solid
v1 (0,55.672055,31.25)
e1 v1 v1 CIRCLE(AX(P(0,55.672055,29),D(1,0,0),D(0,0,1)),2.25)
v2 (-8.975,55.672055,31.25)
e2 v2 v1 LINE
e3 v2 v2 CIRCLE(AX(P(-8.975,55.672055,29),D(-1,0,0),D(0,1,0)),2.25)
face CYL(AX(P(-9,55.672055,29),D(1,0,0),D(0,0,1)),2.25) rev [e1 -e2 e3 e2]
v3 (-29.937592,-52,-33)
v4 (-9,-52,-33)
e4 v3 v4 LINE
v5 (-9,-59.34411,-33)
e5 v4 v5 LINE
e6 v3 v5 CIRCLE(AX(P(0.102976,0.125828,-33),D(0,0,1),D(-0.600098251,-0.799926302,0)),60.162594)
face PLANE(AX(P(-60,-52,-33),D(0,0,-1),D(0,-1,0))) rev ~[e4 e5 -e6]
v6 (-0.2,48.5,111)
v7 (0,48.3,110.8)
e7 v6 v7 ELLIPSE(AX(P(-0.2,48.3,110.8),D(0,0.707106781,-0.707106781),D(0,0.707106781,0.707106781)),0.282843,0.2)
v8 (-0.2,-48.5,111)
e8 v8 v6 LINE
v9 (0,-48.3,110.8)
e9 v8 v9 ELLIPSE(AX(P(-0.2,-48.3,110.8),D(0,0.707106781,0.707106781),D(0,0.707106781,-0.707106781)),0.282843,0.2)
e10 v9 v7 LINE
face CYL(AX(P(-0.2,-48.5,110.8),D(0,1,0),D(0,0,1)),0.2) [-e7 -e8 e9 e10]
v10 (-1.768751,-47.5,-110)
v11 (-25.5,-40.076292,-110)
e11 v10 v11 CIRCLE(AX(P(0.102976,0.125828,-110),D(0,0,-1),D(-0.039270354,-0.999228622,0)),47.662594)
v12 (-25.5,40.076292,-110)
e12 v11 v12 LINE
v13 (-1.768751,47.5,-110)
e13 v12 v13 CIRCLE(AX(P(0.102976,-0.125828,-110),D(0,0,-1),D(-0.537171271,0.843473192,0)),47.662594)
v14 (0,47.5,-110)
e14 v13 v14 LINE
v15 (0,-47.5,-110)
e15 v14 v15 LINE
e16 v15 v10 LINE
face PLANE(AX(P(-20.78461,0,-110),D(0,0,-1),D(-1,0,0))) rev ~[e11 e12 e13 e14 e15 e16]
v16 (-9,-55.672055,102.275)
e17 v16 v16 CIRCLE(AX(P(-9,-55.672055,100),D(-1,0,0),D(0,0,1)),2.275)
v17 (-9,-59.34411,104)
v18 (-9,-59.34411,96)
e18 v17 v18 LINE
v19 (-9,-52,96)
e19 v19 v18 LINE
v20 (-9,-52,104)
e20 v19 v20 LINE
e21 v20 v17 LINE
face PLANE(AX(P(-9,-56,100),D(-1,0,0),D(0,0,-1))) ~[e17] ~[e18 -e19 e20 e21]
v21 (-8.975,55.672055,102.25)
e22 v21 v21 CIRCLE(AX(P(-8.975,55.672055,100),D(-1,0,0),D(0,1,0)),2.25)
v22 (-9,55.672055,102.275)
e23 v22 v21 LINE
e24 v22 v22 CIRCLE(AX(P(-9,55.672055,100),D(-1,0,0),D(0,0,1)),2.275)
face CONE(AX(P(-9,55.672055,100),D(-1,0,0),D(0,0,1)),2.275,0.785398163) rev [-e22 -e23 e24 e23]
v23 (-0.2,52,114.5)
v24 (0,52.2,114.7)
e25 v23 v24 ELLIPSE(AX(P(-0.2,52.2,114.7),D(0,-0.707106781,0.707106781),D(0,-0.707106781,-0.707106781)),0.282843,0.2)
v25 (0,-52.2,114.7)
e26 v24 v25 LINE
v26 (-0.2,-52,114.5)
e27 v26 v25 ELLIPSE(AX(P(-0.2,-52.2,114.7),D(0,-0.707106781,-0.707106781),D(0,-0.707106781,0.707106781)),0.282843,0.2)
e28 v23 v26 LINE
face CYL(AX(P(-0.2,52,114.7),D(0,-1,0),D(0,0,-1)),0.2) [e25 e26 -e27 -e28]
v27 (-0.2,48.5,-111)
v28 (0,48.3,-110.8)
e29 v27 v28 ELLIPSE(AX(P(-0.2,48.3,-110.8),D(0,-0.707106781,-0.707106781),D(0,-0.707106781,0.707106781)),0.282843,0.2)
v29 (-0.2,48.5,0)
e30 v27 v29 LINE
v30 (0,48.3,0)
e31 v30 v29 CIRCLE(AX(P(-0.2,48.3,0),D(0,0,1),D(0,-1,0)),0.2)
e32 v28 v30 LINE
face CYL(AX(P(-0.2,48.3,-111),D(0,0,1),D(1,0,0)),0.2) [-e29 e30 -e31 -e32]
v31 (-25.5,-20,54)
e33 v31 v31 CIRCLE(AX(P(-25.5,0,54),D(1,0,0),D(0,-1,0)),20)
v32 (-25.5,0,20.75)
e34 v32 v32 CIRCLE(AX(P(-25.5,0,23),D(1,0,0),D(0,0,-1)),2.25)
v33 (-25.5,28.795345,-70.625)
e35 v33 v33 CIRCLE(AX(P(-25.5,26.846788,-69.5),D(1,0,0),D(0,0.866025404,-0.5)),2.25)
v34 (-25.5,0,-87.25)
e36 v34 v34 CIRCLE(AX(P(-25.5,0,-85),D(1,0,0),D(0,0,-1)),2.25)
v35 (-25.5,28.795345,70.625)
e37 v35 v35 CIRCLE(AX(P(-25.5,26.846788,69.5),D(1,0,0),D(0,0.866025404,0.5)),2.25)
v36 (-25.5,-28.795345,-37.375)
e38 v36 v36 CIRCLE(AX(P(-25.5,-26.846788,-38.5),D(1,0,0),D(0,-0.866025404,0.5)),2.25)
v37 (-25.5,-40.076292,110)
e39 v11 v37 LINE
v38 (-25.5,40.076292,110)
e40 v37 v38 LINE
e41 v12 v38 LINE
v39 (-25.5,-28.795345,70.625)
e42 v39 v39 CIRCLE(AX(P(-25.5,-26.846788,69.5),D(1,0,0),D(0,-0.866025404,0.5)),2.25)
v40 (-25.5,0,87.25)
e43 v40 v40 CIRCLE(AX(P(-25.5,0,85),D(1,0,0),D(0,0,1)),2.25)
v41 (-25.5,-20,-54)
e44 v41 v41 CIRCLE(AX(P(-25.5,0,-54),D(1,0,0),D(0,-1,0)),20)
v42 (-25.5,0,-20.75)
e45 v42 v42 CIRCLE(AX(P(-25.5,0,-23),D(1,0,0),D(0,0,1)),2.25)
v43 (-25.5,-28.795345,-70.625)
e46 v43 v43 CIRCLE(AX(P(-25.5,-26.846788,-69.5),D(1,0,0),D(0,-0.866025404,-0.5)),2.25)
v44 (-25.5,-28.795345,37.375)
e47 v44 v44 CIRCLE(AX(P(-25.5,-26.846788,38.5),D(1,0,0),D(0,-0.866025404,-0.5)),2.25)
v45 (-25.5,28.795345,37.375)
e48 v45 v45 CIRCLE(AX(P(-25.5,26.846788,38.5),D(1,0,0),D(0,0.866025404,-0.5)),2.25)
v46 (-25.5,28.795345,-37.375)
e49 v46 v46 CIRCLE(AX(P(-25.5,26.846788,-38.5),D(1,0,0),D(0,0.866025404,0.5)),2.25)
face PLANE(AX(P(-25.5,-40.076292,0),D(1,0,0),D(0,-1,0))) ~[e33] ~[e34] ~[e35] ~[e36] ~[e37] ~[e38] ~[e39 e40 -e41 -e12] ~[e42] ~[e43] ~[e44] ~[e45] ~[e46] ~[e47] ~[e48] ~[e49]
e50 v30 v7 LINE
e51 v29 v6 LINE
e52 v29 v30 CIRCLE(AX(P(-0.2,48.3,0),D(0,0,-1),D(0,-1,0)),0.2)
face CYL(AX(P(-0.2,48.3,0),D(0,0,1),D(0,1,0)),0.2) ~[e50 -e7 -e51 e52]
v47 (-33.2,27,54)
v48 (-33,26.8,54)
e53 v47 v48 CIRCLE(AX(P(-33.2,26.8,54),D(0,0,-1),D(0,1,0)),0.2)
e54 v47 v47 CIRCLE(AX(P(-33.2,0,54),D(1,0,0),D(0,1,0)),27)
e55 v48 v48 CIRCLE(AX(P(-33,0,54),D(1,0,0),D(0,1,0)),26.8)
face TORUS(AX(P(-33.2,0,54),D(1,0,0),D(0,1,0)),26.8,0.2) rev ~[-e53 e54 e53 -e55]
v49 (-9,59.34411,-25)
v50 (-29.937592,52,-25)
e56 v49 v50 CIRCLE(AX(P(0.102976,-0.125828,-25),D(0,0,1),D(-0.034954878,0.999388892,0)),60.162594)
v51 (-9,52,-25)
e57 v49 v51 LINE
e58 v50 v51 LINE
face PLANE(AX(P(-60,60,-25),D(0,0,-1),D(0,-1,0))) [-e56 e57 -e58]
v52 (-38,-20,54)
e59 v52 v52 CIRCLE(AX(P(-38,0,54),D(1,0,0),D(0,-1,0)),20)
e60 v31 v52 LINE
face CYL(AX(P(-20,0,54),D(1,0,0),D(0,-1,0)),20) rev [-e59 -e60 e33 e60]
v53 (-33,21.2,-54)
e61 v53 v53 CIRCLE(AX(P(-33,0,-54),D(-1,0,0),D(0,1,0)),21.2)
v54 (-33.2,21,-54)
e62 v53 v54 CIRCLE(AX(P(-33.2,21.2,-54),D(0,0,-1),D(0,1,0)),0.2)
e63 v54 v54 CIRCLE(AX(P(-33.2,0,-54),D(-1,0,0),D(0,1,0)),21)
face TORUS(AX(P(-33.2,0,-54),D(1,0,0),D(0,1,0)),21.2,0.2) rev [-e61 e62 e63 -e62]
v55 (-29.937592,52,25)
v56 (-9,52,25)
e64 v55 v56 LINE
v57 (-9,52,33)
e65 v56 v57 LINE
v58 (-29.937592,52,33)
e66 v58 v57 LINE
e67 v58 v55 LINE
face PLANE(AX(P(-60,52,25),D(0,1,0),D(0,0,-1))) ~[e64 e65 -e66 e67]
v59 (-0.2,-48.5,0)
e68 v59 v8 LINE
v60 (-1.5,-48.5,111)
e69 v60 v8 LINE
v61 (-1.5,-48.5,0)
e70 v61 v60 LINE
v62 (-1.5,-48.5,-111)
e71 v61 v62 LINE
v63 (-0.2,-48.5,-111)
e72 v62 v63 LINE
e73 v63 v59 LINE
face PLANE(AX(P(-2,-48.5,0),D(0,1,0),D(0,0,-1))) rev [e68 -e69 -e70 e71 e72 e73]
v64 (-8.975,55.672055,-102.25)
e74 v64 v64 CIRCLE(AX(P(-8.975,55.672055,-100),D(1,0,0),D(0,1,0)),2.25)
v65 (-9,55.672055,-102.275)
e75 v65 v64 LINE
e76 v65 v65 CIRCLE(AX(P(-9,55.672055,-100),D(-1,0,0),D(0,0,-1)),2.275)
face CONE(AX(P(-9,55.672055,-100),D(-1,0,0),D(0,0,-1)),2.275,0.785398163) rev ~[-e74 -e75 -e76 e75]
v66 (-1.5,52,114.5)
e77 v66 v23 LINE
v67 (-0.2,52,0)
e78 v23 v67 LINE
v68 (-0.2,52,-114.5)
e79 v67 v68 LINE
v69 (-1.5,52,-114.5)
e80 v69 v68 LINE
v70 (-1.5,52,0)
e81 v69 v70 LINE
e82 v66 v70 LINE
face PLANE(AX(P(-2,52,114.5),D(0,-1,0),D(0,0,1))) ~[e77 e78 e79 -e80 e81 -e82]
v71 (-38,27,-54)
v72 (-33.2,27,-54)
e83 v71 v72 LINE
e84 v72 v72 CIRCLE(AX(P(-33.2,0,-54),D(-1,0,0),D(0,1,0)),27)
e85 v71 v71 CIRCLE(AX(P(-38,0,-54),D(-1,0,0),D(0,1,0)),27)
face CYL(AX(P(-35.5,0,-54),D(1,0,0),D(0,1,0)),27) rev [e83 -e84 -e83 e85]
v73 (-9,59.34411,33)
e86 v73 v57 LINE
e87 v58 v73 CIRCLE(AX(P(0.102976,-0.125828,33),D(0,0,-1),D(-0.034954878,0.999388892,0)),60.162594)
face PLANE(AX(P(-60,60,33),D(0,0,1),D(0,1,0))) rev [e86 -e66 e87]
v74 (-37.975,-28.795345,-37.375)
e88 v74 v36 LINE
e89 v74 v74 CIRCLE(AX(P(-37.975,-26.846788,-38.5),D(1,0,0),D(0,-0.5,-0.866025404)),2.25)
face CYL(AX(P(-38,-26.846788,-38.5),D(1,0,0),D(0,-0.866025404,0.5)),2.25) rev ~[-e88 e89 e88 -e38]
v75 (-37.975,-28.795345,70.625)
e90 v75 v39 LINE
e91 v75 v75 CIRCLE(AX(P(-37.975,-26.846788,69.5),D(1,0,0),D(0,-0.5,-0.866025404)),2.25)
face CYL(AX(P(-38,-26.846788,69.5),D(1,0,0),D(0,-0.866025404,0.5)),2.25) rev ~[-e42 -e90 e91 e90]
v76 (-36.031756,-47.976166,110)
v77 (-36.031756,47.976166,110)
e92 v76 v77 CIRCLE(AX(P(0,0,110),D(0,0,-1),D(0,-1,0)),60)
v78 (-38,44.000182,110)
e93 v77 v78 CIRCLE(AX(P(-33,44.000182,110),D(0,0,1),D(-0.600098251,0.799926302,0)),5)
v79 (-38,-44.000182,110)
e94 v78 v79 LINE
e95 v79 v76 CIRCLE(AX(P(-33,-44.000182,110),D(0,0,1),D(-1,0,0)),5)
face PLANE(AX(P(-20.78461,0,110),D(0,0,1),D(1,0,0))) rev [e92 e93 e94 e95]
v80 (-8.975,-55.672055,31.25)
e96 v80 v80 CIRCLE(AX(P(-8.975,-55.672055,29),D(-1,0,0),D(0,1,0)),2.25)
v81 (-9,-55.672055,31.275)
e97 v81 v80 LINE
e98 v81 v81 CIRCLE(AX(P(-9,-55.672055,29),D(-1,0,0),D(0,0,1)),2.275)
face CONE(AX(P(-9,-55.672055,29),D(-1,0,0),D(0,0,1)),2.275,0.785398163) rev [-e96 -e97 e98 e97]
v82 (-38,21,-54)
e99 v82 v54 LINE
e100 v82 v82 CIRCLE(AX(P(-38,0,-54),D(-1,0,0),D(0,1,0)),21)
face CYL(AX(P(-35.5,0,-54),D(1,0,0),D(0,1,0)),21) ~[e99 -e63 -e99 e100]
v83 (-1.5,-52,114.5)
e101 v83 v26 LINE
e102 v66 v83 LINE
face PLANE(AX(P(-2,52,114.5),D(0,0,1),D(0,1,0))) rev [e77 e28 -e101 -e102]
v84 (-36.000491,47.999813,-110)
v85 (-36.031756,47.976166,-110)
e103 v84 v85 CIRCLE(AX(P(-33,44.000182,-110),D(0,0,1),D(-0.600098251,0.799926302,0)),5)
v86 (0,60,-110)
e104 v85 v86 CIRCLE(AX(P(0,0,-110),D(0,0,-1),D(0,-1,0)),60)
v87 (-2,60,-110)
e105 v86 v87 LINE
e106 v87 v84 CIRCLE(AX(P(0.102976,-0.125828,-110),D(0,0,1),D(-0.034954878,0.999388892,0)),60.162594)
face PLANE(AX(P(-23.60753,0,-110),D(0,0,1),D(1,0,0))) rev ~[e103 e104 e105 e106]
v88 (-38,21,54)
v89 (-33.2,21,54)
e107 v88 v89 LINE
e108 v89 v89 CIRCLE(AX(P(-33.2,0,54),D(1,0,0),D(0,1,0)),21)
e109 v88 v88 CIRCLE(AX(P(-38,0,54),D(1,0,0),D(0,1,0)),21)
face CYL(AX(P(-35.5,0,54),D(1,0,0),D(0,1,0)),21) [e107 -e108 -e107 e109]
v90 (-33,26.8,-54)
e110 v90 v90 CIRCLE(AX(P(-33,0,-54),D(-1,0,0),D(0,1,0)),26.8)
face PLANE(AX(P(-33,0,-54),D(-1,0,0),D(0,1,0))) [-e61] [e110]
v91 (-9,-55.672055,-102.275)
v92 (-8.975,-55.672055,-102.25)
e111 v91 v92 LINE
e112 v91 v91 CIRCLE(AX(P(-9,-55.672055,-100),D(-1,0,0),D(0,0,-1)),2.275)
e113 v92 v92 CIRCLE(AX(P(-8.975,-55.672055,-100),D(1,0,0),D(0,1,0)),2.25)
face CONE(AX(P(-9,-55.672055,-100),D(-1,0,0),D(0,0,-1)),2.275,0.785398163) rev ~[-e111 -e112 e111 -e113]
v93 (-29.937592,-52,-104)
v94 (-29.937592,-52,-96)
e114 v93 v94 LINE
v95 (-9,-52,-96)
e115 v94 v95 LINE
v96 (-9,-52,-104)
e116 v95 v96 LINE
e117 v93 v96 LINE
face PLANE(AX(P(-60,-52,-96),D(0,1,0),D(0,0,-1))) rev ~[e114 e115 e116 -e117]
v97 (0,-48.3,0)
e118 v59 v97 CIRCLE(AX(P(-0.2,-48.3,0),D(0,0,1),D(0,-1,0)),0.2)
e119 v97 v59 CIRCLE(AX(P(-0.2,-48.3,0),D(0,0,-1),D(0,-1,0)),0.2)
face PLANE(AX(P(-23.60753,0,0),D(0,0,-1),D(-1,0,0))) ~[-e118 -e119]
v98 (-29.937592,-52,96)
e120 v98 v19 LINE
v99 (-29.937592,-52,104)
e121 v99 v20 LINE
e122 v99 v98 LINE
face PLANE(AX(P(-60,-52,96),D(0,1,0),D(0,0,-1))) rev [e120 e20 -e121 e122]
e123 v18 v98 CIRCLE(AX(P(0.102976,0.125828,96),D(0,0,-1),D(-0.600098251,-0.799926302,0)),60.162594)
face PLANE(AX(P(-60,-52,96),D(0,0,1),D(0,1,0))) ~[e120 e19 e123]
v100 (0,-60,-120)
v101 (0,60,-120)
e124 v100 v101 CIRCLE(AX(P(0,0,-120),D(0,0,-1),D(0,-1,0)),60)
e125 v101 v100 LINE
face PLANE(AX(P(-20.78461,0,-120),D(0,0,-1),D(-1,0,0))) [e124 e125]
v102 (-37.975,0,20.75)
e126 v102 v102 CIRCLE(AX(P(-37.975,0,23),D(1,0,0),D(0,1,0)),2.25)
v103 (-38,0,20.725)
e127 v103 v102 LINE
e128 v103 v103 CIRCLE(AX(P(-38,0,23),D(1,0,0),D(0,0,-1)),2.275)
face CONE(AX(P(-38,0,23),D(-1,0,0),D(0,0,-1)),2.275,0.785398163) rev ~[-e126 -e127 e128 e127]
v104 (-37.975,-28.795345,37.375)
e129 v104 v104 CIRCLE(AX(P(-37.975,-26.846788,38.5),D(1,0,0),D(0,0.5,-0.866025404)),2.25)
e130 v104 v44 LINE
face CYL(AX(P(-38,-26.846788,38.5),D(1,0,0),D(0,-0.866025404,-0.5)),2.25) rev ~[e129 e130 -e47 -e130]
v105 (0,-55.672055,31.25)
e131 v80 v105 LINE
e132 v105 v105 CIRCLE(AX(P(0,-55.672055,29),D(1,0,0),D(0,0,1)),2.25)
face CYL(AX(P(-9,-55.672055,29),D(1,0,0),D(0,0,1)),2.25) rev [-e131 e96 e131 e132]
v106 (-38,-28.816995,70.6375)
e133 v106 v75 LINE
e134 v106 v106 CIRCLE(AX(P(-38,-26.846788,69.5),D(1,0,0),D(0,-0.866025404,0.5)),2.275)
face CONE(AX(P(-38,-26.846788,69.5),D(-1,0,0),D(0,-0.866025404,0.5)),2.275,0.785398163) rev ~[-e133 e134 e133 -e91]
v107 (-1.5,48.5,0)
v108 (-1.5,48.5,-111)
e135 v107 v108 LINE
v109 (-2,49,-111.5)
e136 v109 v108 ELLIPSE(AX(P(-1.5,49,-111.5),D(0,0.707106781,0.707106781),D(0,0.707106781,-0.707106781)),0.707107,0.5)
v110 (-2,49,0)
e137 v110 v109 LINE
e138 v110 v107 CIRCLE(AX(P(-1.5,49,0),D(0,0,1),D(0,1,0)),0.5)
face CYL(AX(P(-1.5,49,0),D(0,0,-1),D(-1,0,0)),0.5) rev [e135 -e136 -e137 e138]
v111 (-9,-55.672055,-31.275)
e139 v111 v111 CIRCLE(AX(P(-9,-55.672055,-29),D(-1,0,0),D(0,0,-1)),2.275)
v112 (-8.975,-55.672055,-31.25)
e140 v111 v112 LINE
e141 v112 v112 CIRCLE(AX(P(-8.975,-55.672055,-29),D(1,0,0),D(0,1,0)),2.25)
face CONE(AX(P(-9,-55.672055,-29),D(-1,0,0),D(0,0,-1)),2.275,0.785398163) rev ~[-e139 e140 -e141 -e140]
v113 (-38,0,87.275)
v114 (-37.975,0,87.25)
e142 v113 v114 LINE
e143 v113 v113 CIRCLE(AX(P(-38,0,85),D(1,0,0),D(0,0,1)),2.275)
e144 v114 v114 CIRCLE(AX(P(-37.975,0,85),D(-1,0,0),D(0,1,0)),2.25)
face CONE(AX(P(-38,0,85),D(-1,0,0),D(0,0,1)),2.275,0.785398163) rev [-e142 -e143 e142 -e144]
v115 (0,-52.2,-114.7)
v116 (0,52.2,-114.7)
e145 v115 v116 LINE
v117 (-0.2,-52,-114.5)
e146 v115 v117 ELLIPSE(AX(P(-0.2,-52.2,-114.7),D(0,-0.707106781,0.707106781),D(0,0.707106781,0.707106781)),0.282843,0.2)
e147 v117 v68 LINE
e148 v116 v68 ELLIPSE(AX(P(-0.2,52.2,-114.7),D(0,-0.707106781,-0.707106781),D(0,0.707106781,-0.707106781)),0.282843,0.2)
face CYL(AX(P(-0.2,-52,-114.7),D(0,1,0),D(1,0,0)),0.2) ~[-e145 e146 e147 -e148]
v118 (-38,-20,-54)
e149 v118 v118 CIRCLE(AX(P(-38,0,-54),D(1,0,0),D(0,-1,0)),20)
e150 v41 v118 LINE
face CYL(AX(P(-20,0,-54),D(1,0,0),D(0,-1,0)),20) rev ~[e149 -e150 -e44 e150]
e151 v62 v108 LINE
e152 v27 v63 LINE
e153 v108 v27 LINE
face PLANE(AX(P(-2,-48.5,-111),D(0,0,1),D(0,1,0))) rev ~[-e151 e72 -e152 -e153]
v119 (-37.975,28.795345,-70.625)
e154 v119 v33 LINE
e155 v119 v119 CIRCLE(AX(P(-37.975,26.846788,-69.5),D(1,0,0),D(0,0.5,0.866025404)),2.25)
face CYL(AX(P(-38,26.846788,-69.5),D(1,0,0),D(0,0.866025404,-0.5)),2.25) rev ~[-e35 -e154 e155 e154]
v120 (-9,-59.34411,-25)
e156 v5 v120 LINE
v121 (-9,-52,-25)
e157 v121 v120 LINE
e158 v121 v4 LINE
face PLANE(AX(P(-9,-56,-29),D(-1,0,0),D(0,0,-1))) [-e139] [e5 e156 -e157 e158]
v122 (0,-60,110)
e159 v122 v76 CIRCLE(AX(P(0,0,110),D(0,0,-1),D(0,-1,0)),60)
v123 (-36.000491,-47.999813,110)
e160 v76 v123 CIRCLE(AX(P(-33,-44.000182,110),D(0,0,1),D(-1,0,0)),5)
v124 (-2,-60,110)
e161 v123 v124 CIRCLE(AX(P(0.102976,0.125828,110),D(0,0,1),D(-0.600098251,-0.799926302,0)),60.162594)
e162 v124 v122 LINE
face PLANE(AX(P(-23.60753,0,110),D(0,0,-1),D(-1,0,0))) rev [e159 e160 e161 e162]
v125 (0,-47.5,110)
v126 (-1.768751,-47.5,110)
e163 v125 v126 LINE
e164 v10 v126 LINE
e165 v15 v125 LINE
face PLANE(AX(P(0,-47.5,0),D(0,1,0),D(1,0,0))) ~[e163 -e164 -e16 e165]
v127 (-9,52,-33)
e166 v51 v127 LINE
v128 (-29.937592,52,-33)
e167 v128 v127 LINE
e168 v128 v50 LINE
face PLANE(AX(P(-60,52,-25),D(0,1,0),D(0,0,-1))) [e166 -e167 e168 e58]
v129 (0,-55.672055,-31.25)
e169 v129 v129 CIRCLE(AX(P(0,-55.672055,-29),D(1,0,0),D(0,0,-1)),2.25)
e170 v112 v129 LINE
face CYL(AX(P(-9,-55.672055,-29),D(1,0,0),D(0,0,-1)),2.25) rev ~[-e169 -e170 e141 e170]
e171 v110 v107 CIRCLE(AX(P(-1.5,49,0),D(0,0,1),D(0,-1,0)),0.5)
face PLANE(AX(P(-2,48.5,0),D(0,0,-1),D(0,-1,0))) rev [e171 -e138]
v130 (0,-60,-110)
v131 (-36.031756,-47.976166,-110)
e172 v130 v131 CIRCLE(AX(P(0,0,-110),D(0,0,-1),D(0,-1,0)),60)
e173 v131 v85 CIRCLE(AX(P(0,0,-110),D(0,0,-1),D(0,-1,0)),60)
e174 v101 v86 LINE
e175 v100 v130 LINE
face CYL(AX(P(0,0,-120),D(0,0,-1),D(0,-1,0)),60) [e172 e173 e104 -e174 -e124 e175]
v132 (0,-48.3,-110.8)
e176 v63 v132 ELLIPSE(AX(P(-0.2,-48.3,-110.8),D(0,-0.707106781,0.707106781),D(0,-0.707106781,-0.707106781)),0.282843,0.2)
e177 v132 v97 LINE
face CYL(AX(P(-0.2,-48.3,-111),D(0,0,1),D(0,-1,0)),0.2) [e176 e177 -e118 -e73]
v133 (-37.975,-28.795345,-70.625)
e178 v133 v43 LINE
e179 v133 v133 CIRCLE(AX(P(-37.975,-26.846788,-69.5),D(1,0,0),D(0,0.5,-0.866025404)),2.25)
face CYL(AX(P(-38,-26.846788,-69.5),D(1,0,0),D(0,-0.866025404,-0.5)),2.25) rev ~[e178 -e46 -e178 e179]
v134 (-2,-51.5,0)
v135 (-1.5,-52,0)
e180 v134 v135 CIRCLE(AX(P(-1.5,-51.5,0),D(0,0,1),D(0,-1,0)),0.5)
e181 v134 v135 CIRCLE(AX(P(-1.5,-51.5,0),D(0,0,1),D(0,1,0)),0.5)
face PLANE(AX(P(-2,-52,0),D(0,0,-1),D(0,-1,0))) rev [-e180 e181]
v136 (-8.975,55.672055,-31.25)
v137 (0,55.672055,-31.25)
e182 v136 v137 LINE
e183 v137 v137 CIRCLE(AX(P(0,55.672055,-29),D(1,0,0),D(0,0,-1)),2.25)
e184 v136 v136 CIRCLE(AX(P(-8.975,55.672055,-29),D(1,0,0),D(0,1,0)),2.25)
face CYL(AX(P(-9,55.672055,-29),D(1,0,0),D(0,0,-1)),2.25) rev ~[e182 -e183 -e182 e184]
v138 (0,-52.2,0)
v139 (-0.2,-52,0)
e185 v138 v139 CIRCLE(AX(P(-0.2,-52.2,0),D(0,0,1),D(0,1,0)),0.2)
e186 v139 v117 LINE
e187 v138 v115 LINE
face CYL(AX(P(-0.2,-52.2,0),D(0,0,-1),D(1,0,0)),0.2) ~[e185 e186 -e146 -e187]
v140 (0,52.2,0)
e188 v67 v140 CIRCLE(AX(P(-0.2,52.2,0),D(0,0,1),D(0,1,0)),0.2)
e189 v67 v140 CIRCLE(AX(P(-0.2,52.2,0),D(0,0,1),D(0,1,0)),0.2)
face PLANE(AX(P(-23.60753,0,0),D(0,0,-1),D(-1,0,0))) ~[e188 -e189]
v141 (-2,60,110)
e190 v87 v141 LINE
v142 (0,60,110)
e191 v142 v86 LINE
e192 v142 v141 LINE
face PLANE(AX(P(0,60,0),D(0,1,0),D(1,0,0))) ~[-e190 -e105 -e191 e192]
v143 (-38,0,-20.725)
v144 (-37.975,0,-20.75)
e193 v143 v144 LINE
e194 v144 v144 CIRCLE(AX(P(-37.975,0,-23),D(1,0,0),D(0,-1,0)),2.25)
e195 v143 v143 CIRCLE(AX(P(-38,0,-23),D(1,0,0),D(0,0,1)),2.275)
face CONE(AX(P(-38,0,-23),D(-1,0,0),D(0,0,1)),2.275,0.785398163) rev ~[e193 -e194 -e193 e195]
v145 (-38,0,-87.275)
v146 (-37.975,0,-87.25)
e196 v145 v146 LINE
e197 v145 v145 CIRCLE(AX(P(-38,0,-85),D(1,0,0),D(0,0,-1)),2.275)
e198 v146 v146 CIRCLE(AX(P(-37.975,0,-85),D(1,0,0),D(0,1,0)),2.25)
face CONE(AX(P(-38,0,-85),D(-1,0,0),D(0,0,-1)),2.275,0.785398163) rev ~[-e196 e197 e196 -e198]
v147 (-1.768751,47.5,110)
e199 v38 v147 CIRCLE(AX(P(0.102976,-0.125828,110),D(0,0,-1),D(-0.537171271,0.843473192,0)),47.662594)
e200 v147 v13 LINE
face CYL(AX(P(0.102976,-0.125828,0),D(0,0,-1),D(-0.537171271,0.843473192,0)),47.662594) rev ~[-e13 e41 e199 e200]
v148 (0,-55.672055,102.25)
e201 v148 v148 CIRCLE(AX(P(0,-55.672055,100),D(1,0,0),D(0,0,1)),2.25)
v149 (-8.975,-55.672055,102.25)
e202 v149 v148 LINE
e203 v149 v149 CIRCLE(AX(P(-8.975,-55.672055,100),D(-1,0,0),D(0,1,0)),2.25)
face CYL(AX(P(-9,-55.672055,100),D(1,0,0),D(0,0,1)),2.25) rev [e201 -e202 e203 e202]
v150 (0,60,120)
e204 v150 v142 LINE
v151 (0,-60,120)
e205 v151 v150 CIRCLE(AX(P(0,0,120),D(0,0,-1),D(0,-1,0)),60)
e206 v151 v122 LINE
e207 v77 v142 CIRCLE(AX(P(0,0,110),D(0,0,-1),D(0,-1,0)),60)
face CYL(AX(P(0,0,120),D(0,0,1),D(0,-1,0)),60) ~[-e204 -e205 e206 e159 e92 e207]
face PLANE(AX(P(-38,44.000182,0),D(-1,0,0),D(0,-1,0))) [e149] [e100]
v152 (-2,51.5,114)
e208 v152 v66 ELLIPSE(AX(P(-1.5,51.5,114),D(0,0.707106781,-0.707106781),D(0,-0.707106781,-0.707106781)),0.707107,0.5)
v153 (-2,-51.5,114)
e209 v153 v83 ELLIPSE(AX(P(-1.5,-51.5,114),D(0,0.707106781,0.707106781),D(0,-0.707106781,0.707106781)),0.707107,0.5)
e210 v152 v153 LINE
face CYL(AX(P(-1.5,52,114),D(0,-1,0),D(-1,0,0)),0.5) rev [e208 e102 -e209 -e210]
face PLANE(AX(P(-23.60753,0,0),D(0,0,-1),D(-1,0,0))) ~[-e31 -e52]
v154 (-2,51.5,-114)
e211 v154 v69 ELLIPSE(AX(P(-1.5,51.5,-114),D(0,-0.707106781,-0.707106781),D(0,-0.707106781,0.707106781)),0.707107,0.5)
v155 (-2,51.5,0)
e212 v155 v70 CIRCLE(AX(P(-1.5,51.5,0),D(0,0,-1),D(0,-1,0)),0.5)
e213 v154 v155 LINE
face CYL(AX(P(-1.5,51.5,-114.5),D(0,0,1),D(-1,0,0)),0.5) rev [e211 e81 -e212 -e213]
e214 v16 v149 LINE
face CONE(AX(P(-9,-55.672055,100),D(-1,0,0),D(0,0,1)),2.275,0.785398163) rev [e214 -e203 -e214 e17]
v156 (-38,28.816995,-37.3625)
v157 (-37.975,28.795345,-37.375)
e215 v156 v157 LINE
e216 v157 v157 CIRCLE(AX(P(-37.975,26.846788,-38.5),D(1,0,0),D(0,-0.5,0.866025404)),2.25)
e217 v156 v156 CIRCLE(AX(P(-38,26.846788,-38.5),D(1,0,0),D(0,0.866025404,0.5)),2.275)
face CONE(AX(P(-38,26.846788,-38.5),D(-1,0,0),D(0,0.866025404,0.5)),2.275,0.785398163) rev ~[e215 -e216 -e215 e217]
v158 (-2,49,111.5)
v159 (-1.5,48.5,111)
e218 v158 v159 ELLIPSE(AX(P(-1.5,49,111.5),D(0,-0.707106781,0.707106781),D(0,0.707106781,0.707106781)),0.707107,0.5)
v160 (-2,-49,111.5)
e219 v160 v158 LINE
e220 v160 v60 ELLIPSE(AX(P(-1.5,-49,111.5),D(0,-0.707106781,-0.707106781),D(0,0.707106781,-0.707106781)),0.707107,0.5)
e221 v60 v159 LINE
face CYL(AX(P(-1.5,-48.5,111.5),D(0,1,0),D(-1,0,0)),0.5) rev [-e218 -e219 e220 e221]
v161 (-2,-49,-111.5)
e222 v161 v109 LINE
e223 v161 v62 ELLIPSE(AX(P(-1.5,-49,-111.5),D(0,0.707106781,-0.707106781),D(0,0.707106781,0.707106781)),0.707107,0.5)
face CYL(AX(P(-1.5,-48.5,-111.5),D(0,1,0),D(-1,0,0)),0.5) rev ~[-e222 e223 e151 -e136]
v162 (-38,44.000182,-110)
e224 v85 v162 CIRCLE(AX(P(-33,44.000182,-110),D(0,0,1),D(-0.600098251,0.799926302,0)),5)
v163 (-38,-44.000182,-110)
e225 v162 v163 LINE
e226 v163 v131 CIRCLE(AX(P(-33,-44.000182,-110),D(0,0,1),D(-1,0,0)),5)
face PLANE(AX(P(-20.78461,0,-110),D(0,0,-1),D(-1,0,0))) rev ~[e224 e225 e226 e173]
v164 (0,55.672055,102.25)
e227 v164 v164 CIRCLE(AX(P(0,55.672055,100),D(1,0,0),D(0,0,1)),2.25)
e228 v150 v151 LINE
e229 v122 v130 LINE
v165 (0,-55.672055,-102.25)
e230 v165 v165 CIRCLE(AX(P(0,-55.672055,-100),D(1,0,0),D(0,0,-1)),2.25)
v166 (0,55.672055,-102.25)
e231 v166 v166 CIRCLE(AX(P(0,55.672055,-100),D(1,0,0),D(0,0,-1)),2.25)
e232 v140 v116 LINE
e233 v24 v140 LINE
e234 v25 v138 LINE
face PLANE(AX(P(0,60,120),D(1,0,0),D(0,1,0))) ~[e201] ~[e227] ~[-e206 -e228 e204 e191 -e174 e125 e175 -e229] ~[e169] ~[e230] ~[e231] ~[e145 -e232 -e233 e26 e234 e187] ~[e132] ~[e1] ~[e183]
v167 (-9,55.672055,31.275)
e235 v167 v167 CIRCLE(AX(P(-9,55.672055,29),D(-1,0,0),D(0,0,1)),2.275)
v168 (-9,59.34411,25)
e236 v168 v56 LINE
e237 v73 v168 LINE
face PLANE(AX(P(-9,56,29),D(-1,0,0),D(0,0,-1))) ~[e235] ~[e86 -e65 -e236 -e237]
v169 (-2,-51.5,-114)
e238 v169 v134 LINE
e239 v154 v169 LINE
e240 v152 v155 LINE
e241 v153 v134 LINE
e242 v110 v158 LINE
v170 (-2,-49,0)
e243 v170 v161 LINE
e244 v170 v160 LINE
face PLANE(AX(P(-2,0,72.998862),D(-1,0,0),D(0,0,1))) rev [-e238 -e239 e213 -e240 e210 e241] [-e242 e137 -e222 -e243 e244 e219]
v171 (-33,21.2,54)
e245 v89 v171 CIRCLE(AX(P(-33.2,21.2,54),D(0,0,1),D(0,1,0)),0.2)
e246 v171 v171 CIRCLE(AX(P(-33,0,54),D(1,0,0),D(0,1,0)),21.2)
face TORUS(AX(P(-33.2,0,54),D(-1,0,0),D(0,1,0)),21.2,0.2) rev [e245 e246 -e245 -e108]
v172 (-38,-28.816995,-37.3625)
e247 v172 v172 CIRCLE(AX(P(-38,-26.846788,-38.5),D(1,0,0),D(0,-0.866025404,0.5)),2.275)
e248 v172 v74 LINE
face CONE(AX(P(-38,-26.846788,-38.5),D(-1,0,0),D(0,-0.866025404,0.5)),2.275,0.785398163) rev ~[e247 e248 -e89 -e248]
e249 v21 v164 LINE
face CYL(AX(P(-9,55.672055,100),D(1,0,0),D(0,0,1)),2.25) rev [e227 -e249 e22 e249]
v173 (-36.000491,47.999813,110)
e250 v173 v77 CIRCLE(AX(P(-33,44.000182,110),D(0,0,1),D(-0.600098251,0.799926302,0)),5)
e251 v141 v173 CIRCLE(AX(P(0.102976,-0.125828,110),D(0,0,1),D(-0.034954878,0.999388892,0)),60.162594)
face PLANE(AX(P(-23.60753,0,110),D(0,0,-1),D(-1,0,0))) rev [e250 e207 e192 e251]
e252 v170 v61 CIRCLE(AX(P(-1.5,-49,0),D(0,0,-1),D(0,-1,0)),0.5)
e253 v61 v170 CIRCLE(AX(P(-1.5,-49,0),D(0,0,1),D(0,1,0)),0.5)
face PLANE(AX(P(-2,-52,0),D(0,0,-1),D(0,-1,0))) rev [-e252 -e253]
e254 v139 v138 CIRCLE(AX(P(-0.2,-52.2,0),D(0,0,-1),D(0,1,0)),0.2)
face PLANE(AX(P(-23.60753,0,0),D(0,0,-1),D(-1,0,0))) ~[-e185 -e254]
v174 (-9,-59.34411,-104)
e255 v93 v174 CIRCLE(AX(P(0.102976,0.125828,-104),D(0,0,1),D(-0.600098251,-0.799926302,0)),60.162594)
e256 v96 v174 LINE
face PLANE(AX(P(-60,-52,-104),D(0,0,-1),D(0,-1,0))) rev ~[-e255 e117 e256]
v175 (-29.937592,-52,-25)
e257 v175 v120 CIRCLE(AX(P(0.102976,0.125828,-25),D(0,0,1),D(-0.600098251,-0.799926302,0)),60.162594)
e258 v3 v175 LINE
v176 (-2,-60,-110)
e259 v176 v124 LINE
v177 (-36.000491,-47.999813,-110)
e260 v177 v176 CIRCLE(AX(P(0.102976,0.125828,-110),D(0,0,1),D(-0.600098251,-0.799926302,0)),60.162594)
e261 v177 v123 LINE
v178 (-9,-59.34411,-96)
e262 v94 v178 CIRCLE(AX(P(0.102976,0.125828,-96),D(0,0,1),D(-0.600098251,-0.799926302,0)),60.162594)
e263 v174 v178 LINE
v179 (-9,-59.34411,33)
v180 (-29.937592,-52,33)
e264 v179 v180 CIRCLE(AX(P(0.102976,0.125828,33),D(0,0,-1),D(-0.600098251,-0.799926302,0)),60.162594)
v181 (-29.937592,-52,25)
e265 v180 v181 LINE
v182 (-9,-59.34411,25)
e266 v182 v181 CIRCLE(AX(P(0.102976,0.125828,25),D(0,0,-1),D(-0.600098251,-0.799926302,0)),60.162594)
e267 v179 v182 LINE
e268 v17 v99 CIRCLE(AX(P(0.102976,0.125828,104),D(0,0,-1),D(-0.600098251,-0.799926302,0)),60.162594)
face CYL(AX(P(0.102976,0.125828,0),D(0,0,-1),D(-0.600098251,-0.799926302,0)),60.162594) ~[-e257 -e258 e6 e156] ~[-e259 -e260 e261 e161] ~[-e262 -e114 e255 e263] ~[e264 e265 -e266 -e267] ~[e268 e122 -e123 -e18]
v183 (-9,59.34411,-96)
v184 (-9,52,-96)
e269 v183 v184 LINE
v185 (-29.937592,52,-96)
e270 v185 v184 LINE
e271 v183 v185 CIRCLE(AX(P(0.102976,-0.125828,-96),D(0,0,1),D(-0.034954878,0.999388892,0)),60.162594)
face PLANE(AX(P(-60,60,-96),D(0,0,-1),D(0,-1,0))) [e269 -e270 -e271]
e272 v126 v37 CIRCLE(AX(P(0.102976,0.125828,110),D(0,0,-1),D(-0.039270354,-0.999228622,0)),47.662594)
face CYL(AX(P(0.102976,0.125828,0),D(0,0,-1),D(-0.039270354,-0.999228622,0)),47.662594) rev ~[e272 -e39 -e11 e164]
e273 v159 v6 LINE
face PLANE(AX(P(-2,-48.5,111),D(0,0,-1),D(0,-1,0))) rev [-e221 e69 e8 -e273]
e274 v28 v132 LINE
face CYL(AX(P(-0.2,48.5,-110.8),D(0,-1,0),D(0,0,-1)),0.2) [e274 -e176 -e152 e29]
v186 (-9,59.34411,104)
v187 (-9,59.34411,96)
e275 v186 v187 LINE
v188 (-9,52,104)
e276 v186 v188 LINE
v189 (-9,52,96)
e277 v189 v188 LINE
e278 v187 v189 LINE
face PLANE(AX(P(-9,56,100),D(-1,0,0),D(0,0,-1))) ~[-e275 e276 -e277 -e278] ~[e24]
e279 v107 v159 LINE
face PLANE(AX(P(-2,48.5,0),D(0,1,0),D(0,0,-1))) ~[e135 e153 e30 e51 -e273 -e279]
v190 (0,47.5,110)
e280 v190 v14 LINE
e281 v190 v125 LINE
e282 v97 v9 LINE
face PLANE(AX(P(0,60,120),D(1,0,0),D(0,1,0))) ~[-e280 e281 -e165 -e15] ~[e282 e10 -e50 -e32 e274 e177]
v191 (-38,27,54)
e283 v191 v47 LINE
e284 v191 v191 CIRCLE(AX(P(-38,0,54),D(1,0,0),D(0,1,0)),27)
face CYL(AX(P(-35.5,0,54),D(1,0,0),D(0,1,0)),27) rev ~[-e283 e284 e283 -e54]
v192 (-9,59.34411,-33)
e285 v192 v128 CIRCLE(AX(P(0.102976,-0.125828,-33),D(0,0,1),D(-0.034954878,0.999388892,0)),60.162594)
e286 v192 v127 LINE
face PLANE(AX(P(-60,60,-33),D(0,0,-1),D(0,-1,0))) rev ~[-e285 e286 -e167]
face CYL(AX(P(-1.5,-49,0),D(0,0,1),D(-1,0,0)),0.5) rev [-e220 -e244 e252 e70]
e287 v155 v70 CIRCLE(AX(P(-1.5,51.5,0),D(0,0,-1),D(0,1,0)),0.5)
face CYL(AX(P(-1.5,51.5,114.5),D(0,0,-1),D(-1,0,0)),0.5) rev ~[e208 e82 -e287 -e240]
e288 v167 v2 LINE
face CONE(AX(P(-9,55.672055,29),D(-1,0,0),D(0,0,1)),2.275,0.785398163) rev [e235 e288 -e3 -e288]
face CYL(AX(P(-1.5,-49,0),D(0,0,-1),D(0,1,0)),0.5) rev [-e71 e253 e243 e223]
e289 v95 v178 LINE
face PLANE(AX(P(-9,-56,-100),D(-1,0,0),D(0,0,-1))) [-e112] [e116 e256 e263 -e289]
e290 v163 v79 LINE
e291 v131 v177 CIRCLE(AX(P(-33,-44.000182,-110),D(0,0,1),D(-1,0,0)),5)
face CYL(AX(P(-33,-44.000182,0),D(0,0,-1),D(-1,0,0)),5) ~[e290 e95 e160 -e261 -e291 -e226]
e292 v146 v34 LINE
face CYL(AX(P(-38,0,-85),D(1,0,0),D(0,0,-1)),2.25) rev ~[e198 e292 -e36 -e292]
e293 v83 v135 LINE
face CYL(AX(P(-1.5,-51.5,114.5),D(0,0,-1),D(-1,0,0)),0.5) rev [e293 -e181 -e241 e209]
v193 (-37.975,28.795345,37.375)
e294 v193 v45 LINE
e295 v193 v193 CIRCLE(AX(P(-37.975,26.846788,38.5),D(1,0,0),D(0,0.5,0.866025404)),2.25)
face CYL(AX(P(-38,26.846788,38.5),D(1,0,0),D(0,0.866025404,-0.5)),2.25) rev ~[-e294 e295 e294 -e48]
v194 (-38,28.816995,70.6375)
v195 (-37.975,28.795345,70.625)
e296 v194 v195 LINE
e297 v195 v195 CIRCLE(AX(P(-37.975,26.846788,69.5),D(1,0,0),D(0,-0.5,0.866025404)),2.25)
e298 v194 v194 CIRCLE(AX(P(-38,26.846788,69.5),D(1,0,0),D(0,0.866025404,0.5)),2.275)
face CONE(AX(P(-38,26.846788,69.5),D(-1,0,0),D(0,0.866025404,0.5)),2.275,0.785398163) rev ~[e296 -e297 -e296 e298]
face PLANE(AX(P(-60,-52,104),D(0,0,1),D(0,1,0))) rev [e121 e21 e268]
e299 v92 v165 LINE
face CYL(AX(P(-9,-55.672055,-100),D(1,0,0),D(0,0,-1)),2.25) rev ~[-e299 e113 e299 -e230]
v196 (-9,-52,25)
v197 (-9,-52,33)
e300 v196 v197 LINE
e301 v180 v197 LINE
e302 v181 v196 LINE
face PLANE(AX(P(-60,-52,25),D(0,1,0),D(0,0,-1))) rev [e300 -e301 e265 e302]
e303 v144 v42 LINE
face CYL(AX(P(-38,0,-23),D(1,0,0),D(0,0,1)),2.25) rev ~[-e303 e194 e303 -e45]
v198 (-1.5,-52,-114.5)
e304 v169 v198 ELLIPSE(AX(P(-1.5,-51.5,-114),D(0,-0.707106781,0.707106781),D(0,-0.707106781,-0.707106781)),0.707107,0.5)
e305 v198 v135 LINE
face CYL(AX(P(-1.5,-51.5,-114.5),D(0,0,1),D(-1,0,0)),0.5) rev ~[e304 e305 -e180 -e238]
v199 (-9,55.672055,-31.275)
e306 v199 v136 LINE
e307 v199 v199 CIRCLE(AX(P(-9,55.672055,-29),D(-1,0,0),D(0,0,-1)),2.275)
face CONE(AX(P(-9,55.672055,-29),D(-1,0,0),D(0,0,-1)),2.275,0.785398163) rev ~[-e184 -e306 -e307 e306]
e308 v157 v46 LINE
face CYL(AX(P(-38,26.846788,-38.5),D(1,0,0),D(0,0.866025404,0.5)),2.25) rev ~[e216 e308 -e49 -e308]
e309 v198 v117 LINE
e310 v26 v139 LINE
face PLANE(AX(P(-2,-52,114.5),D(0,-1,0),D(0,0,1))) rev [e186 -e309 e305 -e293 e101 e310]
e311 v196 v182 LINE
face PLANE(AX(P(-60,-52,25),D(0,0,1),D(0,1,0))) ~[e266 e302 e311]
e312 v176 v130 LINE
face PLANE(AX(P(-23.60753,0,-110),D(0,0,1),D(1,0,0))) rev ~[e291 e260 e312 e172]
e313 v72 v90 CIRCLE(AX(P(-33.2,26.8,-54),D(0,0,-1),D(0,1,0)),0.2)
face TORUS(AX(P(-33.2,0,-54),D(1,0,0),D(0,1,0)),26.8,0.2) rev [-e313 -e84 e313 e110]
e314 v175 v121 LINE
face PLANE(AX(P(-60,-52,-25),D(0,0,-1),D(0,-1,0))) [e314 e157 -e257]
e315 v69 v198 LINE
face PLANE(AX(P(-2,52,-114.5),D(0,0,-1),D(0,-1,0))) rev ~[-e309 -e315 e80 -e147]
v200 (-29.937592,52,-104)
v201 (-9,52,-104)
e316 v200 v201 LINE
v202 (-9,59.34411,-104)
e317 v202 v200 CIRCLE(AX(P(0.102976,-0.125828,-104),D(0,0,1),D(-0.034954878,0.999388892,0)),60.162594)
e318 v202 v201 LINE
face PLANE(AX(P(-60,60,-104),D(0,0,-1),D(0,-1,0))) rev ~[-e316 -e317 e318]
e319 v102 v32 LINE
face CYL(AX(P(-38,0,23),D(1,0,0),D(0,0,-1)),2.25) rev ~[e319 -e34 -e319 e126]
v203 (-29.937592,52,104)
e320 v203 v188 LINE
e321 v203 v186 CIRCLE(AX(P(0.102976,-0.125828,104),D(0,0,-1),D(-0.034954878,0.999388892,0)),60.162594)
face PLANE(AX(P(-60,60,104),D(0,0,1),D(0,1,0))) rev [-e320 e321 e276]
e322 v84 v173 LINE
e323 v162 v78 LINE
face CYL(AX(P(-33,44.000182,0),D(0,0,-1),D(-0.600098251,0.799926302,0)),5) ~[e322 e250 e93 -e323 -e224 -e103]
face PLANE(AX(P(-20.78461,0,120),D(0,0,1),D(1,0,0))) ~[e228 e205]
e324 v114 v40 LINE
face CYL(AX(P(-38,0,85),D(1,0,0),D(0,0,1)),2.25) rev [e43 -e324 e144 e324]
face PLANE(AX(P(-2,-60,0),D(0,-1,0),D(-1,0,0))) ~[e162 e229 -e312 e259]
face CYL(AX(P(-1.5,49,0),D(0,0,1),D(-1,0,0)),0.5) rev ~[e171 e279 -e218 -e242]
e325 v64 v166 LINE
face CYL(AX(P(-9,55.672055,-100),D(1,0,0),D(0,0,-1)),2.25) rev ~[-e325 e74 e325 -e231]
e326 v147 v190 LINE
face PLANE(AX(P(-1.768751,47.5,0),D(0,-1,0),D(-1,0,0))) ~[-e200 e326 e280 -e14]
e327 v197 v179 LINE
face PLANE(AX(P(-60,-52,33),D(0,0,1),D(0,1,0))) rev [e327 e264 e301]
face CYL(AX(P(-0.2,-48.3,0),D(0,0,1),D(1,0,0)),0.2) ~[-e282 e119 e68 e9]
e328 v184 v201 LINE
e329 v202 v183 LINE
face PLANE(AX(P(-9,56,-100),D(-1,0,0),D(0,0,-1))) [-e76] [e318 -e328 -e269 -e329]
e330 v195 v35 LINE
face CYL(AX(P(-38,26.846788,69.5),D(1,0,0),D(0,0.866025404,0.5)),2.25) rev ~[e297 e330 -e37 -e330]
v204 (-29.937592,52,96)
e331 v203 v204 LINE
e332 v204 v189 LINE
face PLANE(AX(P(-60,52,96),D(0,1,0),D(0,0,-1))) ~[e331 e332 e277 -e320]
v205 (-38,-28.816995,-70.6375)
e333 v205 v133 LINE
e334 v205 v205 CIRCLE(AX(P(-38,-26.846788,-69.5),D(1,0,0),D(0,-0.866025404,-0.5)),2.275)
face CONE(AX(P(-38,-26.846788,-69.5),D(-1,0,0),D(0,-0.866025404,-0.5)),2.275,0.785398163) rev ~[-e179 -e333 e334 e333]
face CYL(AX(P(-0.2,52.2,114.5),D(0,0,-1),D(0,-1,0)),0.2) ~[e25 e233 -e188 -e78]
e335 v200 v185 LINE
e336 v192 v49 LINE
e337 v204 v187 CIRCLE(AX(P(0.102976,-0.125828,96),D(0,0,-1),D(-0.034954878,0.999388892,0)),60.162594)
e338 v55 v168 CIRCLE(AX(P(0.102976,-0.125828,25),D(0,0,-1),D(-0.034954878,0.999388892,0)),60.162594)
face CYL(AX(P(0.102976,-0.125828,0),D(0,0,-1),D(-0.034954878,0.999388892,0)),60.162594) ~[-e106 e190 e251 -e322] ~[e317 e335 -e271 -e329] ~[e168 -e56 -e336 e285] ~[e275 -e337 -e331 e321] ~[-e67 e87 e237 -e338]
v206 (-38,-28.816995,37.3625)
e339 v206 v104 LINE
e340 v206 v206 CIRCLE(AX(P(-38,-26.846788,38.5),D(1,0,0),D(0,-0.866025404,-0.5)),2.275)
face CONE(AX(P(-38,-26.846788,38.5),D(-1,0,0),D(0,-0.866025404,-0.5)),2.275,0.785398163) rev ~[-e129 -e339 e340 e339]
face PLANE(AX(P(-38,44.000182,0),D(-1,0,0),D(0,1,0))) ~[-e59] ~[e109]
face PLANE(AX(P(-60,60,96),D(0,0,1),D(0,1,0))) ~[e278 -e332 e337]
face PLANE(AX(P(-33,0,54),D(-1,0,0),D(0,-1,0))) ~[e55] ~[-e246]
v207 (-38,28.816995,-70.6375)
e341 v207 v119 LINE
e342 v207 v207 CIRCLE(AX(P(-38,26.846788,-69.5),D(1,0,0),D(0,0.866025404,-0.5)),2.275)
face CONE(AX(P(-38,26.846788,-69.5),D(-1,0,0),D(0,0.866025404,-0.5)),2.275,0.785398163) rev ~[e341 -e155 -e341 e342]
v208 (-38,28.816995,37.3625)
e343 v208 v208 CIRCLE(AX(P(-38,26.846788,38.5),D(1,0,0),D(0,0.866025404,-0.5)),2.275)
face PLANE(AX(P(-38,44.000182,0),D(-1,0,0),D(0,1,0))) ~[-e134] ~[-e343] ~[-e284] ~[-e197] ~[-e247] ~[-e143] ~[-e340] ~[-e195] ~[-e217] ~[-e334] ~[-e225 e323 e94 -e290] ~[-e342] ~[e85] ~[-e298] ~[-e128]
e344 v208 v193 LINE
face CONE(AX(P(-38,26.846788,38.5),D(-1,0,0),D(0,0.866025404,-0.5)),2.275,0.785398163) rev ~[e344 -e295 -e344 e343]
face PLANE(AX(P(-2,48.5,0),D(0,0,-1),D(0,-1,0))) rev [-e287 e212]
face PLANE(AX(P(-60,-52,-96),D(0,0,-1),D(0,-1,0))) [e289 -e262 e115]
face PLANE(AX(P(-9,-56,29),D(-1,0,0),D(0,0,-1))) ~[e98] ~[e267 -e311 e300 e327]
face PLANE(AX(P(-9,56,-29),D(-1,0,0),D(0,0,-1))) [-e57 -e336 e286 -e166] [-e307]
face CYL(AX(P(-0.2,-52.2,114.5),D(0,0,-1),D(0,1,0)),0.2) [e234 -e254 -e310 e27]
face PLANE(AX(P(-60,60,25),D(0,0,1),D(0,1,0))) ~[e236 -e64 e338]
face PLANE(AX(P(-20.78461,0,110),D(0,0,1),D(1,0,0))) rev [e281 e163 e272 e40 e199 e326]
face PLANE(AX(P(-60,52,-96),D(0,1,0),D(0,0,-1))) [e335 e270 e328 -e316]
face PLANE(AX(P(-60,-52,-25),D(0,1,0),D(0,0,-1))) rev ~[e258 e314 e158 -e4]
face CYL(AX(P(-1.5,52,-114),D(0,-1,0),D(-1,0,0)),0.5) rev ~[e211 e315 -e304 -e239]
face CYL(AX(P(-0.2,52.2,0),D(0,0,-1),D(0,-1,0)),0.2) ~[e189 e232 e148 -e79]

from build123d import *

# Parameters (mm, degrees)
BOSS_EXTRUDE1_DEPTH            = 110
BOSS_EXTRUDE3_START            = -120
BOSS_EXTRUDE3_DEPTH            = 10
CUT_EXTRUDE1_START             = 60
SKETCH11_W                     = 8
SKETCH11_H                     = 8
CUT_EXTRUDE1_DEPTH             = 51
M4_CLEARANCE_HOLE5_D           = 4.5
M4_CLEARANCE_HOLE5_CSINK_D     = 4.55
M4_CLEARANCE_HOLE5_CSINK_ANGLE = 90
CUT_EXTRUDE2_START             = -20
SKETCH14_R                     = 20
CUT_EXTRUDE2_DEPTH             = 48
CUT_EXTRUDE4_START             = -2
CUT_EXTRUDE4_DEPTH             = 149.969384567
SKETCH33_W                     = 5
SKETCH33_H                     = 6
M4_CLEARANCE_HOLE3_D           = 4.5
M4_CLEARANCE_HOLE3_CSINK_D     = 4.55
M4_CLEARANCE_HOLE3_CSINK_ANGLE = 90
CIRPATTERN7_COUNT              = 6
FILLET1_R                      = 0.5
FILLET2_R                      = 0.2
MIRROR_MID_COPY_1_D            = 4.5
MIRROR_MID_COPY_1_CSINK_D      = 4.55
MIRROR_MID_COPY_1_CSINK_ANGLE  = 90
MIRROR_MID_COPY_2_D            = 4.5
MIRROR_MID_COPY_2_CSINK_D      = 4.55
MIRROR_MID_COPY_2_CSINK_ANGLE  = 90
MIRROR_MID_COPY_3_D            = 4.5
MIRROR_MID_COPY_3_CSINK_D      = 4.55
MIRROR_MID_COPY_3_CSINK_ANGLE  = 90
MIRROR_MID_COPY_4_D            = 4.5
MIRROR_MID_COPY_4_CSINK_D      = 4.55
MIRROR_MID_COPY_4_CSINK_ANGLE  = 90
MIRROR_MID_COPY_5_D            = 4.5
MIRROR_MID_COPY_5_CSINK_D      = 4.55
MIRROR_MID_COPY_5_CSINK_ANGLE  = 90
FILLET1_OF_MIRROR_MID_R        = 0.5
FILLET2_OF_MIRROR_MID_R        = 0.2


with BuildPart() as part:
    # Sketch1 → Boss-Extrude1 (new body)
    with BuildSketch(Plane.XY):
        with BuildLine():
            Line((0, 60), (-2, 60))
            ThreePointArc((-2, 60), (-19.920365303, 56.606909458), (-36.000491256, 47.999813239))
            ThreePointArc((-36.000491256, 47.999813239), (-37.472273263, 46.235975068), (-38, 44.000181729))
            Line((-38, 44.000181729), (-38, -44.000181729))
            ThreePointArc((-38, -44.000181729), (-37.472273263, -46.235975068), (-36.000491256, -47.999813239))
            ThreePointArc((-36.000491256, -47.999813239), (-19.920365303, -56.606909458), (-2, -60))
            Line((-2, -60), (0, -60))
            Line((0, -60), (0, -47.5))
            Line((0, -47.5), (-1.768750835, -47.5))
            ThreePointArc((-1.768750835, -47.5), (-14.127016384, -45.362963672), (-25.5, -40.076292196))
            Line((-25.5, -40.076292196), (-25.5, 40.076292196))
            ThreePointArc((-25.5, 40.076292196), (-14.127016384, 45.362963672), (-1.768750835, 47.5))
            Line((-1.768750835, 47.5), (0, 47.5))
            Line((0, 47.5), (0, 60))
        make_face()
    boss_extrude1 = extrude(amount=-BOSS_EXTRUDE1_DEPTH)

    # Sketch7 → Boss-Extrude3 (add)
    with BuildSketch(Plane.XY.offset(BOSS_EXTRUDE3_START)):
        with BuildLine():
            Line((0, 60), (0, -60))
            ThreePointArc((0, -60), (-60, 0), (0, 60))
        make_face()
    boss_extrude3 = extrude(amount=BOSS_EXTRUDE3_DEPTH)

    # Sketch11 → Cut-Extrude1 (cut)
    with BuildSketch(Plane(origin=(0, 0, 0), x_dir=(0, 0, -1), z_dir=(-1, 0, 0)).offset(CUT_EXTRUDE1_START)):
        with Locations((29, 56)):
            Rectangle(SKETCH11_W, SKETCH11_H)
        with Locations((100, -56)):
            Rectangle(SKETCH11_W, SKETCH11_H)
        with Locations((29, -56)):
            Rectangle(SKETCH11_W, SKETCH11_H)
        with Locations((100, 56)):
            Rectangle(SKETCH11_W, SKETCH11_H)
    cut_extrude1 = extrude(amount=-CUT_EXTRUDE1_DEPTH, mode=Mode.SUBTRACT)

    # M4 Clearance Hole5 (through all)
    with Locations(Plane.ZY.offset(9)):
        with Locations((-100, 55.672055005), (-29, 55.672055005), (-100, -55.672055005), (-29, -55.672055005)):
            m4_clearance_hole5 = CounterSinkHole(M4_CLEARANCE_HOLE5_D / 2, M4_CLEARANCE_HOLE5_CSINK_D / 2, counter_sink_angle=M4_CLEARANCE_HOLE5_CSINK_ANGLE)

    # Sketch14 → Cut-Extrude2 (cut)
    with BuildSketch(Plane(origin=(0, 0, 0), x_dir=(0, 0, -1), z_dir=(1, 0, 0)).offset(CUT_EXTRUDE2_START)):
        with Locations(Location((54, 0, 0), (0, 0, 270))):
            Circle(SKETCH14_R)
    cut_extrude2 = extrude(amount=-CUT_EXTRUDE2_DEPTH, mode=Mode.SUBTRACT)

    # Sketch32 → Cut-Extrude4 (cut)
    with BuildSketch(Plane(origin=(0, 0, 0), x_dir=(0, 0, -1), z_dir=(1, 0, 0)).offset(CUT_EXTRUDE4_START)):
        Polygon((110, 48.5), (0, 48.5), (0, 52), (110, 52), (114.5, 52), (114.5, -52), (0, -52), (0, -48.5), (111, -48.5), (111, 48.5), align=None)
    cut_extrude4 = extrude(amount=CUT_EXTRUDE4_DEPTH, mode=Mode.SUBTRACT)

    # Sketch33 → Cut-Revolve1 (revolve, cut)
    with BuildSketch(Plane.XY.offset(-54), mode=Mode.PRIVATE) as cut_revolve1_sk:
        with Locations((-35.5, -24)):
            Rectangle(SKETCH33_W, SKETCH33_H)
    cut_revolve1 = revolve(cut_revolve1_sk.sketch.rotate(Axis((11.844603506, 0, -54), (-1, 0, 0)), 180), axis=Axis((11.844603506, 0, -54), (-1, 0, 0)), mode=Mode.SUBTRACT)

    # M4 Clearance Hole3 (through all)
    with Locations(Plane.ZY.offset(38)):
        with Locations((-85, 0)):
            m4_clearance_hole3 = CounterSinkHole(M4_CLEARANCE_HOLE3_D / 2, M4_CLEARANCE_HOLE3_CSINK_D / 2, counter_sink_angle=M4_CLEARANCE_HOLE3_CSINK_ANGLE)

    # CirPattern7: M4 Clearance Hole3 ×6 about axis
    cirpattern7_axis = Axis((0, 0, -54), (1, 0, 0))
    for i in range(1, CIRPATTERN7_COUNT):
        add(m4_clearance_hole3.rotate(cirpattern7_axis, i * 360 / CIRPATTERN7_COUNT), mode=Mode.SUBTRACT)

    # Fillet1
    fillet1_edges = [part.edges().sort_by_distance(p)[0] for p in [
        (-2, 0, -111),
        (-2, 48.5, -55.5),
        (-2, -48.5, -55.5),
        (-2, 52, -57.25),
        (-2, 0, -114.5),
        (-2, -52, -57.25),
    ]]
    fillet(fillet1_edges, radius=FILLET1_R)

    # Fillet2
    fillet2_edges = [part.edges().sort_by_distance(p)[0] for p in [
        (0, 0, -114.5),
        (0, 0, -111),
        (0, 48.5, -55.5),
        (0, -52, -57.25),
        (0, 52, -57.25),
        (0, -48.5, -55.5),
        (-33, -27, -54),
        (-33, -21, -54),
    ]]
    fillet(fillet2_edges, radius=FILLET2_R)

    # Mirror_mid: Boss-Extrude1, Boss-Extrude3, Cut-Extrude1, M4 Clearance Hole5, Cut-Extrude2, Cut-Extrude4, Cut-Revolve1, M4 Clearance Hole3 across plane
    add(boss_extrude1.mirror(Plane.XY))
    add(boss_extrude3.mirror(Plane.XY))
    add(cut_extrude1.mirror(Plane.XY), mode=Mode.SUBTRACT)
    add(m4_clearance_hole5.mirror(Plane.XY), mode=Mode.SUBTRACT)
    add(cut_extrude2.mirror(Plane.XY), mode=Mode.SUBTRACT)
    add(cut_extrude4.mirror(Plane.XY), mode=Mode.SUBTRACT)
    add(cut_revolve1.mirror(Plane.XY), mode=Mode.SUBTRACT)
    add(m4_clearance_hole3.mirror(Plane.XY), mode=Mode.SUBTRACT)

    # Mirror_mid copy 1 (through all)
    with Locations(Plane(origin=(-38, -46.765371804, 27), x_dir=(0, -0.8660254037844386, -0.5000000000000001), z_dir=(-1, 0, 0))):
        with Locations((-85, 0)):
            CounterSinkHole(MIRROR_MID_COPY_1_D / 2, MIRROR_MID_COPY_1_CSINK_D / 2, counter_sink_angle=MIRROR_MID_COPY_1_CSINK_ANGLE)

    # Mirror_mid copy 2 (through all)
    with Locations(Plane(origin=(-38, -46.765371804, 81), x_dir=(0, -0.8660254037844387, 0.4999999999999998), z_dir=(-1, 0, 0))):
        with Locations((-85, 0)):
            CounterSinkHole(MIRROR_MID_COPY_2_D / 2, MIRROR_MID_COPY_2_CSINK_D / 2, counter_sink_angle=MIRROR_MID_COPY_2_CSINK_ANGLE)

    # Mirror_mid copy 3 (through all)
    with Locations(Plane(origin=(-38, 0, 108), x_dir=(0, 0, 1), z_dir=(-1, 0, 0))):
        with Locations((-85, 0)):
            CounterSinkHole(MIRROR_MID_COPY_3_D / 2, MIRROR_MID_COPY_3_CSINK_D / 2, counter_sink_angle=MIRROR_MID_COPY_3_CSINK_ANGLE)

    # Mirror_mid copy 4 (through all)
    with Locations(Plane(origin=(-38, 46.765371804, 81), x_dir=(0, 0.8660254037844384, 0.5000000000000004), z_dir=(-1, 0, 0))):
        with Locations((-85, 0)):
            CounterSinkHole(MIRROR_MID_COPY_4_D / 2, MIRROR_MID_COPY_4_CSINK_D / 2, counter_sink_angle=MIRROR_MID_COPY_4_CSINK_ANGLE)

    # Mirror_mid copy 5 (through all)
    with Locations(Plane(origin=(-38, 46.765371804, 27), x_dir=(0, 0.8660254037844386, -0.5000000000000001), z_dir=(-1, 0, 0))):
        with Locations((-85, 0)):
            CounterSinkHole(MIRROR_MID_COPY_5_D / 2, MIRROR_MID_COPY_5_CSINK_D / 2, counter_sink_angle=MIRROR_MID_COPY_5_CSINK_ANGLE)

    # Fillet1 of Mirror_mid
    fillet1_of_mirror_mid_edges = [part.edges().sort_by_distance(p)[0] for p in [
        (-2, 0, 111),
        (-2, 48.5, 55.5),
        (-2, -48.5, 55.5),
        (-2, 52, 57.25),
        (-2, 0, 114.5),
        (-2, -52, 57.25),
    ]]
    fillet(fillet1_of_mirror_mid_edges, radius=FILLET1_OF_MIRROR_MID_R)

    # Fillet2 of Mirror_mid
    fillet2_of_mirror_mid_edges = [part.edges().sort_by_distance(p)[0] for p in [
        (0, 0, 114.5),
        (0, 0, 111),
        (0, 48.5, 55.5),
        (0, -52, 57.25),
        (0, 52, 57.25),
        (0, -48.5, 55.5),
        (-33, -27, 54),
        (-33, -21, 54),
    ]]
    fillet(fillet2_of_mirror_mid_edges, radius=FILLET2_OF_MIRROR_MID_R)


solid = part.part
